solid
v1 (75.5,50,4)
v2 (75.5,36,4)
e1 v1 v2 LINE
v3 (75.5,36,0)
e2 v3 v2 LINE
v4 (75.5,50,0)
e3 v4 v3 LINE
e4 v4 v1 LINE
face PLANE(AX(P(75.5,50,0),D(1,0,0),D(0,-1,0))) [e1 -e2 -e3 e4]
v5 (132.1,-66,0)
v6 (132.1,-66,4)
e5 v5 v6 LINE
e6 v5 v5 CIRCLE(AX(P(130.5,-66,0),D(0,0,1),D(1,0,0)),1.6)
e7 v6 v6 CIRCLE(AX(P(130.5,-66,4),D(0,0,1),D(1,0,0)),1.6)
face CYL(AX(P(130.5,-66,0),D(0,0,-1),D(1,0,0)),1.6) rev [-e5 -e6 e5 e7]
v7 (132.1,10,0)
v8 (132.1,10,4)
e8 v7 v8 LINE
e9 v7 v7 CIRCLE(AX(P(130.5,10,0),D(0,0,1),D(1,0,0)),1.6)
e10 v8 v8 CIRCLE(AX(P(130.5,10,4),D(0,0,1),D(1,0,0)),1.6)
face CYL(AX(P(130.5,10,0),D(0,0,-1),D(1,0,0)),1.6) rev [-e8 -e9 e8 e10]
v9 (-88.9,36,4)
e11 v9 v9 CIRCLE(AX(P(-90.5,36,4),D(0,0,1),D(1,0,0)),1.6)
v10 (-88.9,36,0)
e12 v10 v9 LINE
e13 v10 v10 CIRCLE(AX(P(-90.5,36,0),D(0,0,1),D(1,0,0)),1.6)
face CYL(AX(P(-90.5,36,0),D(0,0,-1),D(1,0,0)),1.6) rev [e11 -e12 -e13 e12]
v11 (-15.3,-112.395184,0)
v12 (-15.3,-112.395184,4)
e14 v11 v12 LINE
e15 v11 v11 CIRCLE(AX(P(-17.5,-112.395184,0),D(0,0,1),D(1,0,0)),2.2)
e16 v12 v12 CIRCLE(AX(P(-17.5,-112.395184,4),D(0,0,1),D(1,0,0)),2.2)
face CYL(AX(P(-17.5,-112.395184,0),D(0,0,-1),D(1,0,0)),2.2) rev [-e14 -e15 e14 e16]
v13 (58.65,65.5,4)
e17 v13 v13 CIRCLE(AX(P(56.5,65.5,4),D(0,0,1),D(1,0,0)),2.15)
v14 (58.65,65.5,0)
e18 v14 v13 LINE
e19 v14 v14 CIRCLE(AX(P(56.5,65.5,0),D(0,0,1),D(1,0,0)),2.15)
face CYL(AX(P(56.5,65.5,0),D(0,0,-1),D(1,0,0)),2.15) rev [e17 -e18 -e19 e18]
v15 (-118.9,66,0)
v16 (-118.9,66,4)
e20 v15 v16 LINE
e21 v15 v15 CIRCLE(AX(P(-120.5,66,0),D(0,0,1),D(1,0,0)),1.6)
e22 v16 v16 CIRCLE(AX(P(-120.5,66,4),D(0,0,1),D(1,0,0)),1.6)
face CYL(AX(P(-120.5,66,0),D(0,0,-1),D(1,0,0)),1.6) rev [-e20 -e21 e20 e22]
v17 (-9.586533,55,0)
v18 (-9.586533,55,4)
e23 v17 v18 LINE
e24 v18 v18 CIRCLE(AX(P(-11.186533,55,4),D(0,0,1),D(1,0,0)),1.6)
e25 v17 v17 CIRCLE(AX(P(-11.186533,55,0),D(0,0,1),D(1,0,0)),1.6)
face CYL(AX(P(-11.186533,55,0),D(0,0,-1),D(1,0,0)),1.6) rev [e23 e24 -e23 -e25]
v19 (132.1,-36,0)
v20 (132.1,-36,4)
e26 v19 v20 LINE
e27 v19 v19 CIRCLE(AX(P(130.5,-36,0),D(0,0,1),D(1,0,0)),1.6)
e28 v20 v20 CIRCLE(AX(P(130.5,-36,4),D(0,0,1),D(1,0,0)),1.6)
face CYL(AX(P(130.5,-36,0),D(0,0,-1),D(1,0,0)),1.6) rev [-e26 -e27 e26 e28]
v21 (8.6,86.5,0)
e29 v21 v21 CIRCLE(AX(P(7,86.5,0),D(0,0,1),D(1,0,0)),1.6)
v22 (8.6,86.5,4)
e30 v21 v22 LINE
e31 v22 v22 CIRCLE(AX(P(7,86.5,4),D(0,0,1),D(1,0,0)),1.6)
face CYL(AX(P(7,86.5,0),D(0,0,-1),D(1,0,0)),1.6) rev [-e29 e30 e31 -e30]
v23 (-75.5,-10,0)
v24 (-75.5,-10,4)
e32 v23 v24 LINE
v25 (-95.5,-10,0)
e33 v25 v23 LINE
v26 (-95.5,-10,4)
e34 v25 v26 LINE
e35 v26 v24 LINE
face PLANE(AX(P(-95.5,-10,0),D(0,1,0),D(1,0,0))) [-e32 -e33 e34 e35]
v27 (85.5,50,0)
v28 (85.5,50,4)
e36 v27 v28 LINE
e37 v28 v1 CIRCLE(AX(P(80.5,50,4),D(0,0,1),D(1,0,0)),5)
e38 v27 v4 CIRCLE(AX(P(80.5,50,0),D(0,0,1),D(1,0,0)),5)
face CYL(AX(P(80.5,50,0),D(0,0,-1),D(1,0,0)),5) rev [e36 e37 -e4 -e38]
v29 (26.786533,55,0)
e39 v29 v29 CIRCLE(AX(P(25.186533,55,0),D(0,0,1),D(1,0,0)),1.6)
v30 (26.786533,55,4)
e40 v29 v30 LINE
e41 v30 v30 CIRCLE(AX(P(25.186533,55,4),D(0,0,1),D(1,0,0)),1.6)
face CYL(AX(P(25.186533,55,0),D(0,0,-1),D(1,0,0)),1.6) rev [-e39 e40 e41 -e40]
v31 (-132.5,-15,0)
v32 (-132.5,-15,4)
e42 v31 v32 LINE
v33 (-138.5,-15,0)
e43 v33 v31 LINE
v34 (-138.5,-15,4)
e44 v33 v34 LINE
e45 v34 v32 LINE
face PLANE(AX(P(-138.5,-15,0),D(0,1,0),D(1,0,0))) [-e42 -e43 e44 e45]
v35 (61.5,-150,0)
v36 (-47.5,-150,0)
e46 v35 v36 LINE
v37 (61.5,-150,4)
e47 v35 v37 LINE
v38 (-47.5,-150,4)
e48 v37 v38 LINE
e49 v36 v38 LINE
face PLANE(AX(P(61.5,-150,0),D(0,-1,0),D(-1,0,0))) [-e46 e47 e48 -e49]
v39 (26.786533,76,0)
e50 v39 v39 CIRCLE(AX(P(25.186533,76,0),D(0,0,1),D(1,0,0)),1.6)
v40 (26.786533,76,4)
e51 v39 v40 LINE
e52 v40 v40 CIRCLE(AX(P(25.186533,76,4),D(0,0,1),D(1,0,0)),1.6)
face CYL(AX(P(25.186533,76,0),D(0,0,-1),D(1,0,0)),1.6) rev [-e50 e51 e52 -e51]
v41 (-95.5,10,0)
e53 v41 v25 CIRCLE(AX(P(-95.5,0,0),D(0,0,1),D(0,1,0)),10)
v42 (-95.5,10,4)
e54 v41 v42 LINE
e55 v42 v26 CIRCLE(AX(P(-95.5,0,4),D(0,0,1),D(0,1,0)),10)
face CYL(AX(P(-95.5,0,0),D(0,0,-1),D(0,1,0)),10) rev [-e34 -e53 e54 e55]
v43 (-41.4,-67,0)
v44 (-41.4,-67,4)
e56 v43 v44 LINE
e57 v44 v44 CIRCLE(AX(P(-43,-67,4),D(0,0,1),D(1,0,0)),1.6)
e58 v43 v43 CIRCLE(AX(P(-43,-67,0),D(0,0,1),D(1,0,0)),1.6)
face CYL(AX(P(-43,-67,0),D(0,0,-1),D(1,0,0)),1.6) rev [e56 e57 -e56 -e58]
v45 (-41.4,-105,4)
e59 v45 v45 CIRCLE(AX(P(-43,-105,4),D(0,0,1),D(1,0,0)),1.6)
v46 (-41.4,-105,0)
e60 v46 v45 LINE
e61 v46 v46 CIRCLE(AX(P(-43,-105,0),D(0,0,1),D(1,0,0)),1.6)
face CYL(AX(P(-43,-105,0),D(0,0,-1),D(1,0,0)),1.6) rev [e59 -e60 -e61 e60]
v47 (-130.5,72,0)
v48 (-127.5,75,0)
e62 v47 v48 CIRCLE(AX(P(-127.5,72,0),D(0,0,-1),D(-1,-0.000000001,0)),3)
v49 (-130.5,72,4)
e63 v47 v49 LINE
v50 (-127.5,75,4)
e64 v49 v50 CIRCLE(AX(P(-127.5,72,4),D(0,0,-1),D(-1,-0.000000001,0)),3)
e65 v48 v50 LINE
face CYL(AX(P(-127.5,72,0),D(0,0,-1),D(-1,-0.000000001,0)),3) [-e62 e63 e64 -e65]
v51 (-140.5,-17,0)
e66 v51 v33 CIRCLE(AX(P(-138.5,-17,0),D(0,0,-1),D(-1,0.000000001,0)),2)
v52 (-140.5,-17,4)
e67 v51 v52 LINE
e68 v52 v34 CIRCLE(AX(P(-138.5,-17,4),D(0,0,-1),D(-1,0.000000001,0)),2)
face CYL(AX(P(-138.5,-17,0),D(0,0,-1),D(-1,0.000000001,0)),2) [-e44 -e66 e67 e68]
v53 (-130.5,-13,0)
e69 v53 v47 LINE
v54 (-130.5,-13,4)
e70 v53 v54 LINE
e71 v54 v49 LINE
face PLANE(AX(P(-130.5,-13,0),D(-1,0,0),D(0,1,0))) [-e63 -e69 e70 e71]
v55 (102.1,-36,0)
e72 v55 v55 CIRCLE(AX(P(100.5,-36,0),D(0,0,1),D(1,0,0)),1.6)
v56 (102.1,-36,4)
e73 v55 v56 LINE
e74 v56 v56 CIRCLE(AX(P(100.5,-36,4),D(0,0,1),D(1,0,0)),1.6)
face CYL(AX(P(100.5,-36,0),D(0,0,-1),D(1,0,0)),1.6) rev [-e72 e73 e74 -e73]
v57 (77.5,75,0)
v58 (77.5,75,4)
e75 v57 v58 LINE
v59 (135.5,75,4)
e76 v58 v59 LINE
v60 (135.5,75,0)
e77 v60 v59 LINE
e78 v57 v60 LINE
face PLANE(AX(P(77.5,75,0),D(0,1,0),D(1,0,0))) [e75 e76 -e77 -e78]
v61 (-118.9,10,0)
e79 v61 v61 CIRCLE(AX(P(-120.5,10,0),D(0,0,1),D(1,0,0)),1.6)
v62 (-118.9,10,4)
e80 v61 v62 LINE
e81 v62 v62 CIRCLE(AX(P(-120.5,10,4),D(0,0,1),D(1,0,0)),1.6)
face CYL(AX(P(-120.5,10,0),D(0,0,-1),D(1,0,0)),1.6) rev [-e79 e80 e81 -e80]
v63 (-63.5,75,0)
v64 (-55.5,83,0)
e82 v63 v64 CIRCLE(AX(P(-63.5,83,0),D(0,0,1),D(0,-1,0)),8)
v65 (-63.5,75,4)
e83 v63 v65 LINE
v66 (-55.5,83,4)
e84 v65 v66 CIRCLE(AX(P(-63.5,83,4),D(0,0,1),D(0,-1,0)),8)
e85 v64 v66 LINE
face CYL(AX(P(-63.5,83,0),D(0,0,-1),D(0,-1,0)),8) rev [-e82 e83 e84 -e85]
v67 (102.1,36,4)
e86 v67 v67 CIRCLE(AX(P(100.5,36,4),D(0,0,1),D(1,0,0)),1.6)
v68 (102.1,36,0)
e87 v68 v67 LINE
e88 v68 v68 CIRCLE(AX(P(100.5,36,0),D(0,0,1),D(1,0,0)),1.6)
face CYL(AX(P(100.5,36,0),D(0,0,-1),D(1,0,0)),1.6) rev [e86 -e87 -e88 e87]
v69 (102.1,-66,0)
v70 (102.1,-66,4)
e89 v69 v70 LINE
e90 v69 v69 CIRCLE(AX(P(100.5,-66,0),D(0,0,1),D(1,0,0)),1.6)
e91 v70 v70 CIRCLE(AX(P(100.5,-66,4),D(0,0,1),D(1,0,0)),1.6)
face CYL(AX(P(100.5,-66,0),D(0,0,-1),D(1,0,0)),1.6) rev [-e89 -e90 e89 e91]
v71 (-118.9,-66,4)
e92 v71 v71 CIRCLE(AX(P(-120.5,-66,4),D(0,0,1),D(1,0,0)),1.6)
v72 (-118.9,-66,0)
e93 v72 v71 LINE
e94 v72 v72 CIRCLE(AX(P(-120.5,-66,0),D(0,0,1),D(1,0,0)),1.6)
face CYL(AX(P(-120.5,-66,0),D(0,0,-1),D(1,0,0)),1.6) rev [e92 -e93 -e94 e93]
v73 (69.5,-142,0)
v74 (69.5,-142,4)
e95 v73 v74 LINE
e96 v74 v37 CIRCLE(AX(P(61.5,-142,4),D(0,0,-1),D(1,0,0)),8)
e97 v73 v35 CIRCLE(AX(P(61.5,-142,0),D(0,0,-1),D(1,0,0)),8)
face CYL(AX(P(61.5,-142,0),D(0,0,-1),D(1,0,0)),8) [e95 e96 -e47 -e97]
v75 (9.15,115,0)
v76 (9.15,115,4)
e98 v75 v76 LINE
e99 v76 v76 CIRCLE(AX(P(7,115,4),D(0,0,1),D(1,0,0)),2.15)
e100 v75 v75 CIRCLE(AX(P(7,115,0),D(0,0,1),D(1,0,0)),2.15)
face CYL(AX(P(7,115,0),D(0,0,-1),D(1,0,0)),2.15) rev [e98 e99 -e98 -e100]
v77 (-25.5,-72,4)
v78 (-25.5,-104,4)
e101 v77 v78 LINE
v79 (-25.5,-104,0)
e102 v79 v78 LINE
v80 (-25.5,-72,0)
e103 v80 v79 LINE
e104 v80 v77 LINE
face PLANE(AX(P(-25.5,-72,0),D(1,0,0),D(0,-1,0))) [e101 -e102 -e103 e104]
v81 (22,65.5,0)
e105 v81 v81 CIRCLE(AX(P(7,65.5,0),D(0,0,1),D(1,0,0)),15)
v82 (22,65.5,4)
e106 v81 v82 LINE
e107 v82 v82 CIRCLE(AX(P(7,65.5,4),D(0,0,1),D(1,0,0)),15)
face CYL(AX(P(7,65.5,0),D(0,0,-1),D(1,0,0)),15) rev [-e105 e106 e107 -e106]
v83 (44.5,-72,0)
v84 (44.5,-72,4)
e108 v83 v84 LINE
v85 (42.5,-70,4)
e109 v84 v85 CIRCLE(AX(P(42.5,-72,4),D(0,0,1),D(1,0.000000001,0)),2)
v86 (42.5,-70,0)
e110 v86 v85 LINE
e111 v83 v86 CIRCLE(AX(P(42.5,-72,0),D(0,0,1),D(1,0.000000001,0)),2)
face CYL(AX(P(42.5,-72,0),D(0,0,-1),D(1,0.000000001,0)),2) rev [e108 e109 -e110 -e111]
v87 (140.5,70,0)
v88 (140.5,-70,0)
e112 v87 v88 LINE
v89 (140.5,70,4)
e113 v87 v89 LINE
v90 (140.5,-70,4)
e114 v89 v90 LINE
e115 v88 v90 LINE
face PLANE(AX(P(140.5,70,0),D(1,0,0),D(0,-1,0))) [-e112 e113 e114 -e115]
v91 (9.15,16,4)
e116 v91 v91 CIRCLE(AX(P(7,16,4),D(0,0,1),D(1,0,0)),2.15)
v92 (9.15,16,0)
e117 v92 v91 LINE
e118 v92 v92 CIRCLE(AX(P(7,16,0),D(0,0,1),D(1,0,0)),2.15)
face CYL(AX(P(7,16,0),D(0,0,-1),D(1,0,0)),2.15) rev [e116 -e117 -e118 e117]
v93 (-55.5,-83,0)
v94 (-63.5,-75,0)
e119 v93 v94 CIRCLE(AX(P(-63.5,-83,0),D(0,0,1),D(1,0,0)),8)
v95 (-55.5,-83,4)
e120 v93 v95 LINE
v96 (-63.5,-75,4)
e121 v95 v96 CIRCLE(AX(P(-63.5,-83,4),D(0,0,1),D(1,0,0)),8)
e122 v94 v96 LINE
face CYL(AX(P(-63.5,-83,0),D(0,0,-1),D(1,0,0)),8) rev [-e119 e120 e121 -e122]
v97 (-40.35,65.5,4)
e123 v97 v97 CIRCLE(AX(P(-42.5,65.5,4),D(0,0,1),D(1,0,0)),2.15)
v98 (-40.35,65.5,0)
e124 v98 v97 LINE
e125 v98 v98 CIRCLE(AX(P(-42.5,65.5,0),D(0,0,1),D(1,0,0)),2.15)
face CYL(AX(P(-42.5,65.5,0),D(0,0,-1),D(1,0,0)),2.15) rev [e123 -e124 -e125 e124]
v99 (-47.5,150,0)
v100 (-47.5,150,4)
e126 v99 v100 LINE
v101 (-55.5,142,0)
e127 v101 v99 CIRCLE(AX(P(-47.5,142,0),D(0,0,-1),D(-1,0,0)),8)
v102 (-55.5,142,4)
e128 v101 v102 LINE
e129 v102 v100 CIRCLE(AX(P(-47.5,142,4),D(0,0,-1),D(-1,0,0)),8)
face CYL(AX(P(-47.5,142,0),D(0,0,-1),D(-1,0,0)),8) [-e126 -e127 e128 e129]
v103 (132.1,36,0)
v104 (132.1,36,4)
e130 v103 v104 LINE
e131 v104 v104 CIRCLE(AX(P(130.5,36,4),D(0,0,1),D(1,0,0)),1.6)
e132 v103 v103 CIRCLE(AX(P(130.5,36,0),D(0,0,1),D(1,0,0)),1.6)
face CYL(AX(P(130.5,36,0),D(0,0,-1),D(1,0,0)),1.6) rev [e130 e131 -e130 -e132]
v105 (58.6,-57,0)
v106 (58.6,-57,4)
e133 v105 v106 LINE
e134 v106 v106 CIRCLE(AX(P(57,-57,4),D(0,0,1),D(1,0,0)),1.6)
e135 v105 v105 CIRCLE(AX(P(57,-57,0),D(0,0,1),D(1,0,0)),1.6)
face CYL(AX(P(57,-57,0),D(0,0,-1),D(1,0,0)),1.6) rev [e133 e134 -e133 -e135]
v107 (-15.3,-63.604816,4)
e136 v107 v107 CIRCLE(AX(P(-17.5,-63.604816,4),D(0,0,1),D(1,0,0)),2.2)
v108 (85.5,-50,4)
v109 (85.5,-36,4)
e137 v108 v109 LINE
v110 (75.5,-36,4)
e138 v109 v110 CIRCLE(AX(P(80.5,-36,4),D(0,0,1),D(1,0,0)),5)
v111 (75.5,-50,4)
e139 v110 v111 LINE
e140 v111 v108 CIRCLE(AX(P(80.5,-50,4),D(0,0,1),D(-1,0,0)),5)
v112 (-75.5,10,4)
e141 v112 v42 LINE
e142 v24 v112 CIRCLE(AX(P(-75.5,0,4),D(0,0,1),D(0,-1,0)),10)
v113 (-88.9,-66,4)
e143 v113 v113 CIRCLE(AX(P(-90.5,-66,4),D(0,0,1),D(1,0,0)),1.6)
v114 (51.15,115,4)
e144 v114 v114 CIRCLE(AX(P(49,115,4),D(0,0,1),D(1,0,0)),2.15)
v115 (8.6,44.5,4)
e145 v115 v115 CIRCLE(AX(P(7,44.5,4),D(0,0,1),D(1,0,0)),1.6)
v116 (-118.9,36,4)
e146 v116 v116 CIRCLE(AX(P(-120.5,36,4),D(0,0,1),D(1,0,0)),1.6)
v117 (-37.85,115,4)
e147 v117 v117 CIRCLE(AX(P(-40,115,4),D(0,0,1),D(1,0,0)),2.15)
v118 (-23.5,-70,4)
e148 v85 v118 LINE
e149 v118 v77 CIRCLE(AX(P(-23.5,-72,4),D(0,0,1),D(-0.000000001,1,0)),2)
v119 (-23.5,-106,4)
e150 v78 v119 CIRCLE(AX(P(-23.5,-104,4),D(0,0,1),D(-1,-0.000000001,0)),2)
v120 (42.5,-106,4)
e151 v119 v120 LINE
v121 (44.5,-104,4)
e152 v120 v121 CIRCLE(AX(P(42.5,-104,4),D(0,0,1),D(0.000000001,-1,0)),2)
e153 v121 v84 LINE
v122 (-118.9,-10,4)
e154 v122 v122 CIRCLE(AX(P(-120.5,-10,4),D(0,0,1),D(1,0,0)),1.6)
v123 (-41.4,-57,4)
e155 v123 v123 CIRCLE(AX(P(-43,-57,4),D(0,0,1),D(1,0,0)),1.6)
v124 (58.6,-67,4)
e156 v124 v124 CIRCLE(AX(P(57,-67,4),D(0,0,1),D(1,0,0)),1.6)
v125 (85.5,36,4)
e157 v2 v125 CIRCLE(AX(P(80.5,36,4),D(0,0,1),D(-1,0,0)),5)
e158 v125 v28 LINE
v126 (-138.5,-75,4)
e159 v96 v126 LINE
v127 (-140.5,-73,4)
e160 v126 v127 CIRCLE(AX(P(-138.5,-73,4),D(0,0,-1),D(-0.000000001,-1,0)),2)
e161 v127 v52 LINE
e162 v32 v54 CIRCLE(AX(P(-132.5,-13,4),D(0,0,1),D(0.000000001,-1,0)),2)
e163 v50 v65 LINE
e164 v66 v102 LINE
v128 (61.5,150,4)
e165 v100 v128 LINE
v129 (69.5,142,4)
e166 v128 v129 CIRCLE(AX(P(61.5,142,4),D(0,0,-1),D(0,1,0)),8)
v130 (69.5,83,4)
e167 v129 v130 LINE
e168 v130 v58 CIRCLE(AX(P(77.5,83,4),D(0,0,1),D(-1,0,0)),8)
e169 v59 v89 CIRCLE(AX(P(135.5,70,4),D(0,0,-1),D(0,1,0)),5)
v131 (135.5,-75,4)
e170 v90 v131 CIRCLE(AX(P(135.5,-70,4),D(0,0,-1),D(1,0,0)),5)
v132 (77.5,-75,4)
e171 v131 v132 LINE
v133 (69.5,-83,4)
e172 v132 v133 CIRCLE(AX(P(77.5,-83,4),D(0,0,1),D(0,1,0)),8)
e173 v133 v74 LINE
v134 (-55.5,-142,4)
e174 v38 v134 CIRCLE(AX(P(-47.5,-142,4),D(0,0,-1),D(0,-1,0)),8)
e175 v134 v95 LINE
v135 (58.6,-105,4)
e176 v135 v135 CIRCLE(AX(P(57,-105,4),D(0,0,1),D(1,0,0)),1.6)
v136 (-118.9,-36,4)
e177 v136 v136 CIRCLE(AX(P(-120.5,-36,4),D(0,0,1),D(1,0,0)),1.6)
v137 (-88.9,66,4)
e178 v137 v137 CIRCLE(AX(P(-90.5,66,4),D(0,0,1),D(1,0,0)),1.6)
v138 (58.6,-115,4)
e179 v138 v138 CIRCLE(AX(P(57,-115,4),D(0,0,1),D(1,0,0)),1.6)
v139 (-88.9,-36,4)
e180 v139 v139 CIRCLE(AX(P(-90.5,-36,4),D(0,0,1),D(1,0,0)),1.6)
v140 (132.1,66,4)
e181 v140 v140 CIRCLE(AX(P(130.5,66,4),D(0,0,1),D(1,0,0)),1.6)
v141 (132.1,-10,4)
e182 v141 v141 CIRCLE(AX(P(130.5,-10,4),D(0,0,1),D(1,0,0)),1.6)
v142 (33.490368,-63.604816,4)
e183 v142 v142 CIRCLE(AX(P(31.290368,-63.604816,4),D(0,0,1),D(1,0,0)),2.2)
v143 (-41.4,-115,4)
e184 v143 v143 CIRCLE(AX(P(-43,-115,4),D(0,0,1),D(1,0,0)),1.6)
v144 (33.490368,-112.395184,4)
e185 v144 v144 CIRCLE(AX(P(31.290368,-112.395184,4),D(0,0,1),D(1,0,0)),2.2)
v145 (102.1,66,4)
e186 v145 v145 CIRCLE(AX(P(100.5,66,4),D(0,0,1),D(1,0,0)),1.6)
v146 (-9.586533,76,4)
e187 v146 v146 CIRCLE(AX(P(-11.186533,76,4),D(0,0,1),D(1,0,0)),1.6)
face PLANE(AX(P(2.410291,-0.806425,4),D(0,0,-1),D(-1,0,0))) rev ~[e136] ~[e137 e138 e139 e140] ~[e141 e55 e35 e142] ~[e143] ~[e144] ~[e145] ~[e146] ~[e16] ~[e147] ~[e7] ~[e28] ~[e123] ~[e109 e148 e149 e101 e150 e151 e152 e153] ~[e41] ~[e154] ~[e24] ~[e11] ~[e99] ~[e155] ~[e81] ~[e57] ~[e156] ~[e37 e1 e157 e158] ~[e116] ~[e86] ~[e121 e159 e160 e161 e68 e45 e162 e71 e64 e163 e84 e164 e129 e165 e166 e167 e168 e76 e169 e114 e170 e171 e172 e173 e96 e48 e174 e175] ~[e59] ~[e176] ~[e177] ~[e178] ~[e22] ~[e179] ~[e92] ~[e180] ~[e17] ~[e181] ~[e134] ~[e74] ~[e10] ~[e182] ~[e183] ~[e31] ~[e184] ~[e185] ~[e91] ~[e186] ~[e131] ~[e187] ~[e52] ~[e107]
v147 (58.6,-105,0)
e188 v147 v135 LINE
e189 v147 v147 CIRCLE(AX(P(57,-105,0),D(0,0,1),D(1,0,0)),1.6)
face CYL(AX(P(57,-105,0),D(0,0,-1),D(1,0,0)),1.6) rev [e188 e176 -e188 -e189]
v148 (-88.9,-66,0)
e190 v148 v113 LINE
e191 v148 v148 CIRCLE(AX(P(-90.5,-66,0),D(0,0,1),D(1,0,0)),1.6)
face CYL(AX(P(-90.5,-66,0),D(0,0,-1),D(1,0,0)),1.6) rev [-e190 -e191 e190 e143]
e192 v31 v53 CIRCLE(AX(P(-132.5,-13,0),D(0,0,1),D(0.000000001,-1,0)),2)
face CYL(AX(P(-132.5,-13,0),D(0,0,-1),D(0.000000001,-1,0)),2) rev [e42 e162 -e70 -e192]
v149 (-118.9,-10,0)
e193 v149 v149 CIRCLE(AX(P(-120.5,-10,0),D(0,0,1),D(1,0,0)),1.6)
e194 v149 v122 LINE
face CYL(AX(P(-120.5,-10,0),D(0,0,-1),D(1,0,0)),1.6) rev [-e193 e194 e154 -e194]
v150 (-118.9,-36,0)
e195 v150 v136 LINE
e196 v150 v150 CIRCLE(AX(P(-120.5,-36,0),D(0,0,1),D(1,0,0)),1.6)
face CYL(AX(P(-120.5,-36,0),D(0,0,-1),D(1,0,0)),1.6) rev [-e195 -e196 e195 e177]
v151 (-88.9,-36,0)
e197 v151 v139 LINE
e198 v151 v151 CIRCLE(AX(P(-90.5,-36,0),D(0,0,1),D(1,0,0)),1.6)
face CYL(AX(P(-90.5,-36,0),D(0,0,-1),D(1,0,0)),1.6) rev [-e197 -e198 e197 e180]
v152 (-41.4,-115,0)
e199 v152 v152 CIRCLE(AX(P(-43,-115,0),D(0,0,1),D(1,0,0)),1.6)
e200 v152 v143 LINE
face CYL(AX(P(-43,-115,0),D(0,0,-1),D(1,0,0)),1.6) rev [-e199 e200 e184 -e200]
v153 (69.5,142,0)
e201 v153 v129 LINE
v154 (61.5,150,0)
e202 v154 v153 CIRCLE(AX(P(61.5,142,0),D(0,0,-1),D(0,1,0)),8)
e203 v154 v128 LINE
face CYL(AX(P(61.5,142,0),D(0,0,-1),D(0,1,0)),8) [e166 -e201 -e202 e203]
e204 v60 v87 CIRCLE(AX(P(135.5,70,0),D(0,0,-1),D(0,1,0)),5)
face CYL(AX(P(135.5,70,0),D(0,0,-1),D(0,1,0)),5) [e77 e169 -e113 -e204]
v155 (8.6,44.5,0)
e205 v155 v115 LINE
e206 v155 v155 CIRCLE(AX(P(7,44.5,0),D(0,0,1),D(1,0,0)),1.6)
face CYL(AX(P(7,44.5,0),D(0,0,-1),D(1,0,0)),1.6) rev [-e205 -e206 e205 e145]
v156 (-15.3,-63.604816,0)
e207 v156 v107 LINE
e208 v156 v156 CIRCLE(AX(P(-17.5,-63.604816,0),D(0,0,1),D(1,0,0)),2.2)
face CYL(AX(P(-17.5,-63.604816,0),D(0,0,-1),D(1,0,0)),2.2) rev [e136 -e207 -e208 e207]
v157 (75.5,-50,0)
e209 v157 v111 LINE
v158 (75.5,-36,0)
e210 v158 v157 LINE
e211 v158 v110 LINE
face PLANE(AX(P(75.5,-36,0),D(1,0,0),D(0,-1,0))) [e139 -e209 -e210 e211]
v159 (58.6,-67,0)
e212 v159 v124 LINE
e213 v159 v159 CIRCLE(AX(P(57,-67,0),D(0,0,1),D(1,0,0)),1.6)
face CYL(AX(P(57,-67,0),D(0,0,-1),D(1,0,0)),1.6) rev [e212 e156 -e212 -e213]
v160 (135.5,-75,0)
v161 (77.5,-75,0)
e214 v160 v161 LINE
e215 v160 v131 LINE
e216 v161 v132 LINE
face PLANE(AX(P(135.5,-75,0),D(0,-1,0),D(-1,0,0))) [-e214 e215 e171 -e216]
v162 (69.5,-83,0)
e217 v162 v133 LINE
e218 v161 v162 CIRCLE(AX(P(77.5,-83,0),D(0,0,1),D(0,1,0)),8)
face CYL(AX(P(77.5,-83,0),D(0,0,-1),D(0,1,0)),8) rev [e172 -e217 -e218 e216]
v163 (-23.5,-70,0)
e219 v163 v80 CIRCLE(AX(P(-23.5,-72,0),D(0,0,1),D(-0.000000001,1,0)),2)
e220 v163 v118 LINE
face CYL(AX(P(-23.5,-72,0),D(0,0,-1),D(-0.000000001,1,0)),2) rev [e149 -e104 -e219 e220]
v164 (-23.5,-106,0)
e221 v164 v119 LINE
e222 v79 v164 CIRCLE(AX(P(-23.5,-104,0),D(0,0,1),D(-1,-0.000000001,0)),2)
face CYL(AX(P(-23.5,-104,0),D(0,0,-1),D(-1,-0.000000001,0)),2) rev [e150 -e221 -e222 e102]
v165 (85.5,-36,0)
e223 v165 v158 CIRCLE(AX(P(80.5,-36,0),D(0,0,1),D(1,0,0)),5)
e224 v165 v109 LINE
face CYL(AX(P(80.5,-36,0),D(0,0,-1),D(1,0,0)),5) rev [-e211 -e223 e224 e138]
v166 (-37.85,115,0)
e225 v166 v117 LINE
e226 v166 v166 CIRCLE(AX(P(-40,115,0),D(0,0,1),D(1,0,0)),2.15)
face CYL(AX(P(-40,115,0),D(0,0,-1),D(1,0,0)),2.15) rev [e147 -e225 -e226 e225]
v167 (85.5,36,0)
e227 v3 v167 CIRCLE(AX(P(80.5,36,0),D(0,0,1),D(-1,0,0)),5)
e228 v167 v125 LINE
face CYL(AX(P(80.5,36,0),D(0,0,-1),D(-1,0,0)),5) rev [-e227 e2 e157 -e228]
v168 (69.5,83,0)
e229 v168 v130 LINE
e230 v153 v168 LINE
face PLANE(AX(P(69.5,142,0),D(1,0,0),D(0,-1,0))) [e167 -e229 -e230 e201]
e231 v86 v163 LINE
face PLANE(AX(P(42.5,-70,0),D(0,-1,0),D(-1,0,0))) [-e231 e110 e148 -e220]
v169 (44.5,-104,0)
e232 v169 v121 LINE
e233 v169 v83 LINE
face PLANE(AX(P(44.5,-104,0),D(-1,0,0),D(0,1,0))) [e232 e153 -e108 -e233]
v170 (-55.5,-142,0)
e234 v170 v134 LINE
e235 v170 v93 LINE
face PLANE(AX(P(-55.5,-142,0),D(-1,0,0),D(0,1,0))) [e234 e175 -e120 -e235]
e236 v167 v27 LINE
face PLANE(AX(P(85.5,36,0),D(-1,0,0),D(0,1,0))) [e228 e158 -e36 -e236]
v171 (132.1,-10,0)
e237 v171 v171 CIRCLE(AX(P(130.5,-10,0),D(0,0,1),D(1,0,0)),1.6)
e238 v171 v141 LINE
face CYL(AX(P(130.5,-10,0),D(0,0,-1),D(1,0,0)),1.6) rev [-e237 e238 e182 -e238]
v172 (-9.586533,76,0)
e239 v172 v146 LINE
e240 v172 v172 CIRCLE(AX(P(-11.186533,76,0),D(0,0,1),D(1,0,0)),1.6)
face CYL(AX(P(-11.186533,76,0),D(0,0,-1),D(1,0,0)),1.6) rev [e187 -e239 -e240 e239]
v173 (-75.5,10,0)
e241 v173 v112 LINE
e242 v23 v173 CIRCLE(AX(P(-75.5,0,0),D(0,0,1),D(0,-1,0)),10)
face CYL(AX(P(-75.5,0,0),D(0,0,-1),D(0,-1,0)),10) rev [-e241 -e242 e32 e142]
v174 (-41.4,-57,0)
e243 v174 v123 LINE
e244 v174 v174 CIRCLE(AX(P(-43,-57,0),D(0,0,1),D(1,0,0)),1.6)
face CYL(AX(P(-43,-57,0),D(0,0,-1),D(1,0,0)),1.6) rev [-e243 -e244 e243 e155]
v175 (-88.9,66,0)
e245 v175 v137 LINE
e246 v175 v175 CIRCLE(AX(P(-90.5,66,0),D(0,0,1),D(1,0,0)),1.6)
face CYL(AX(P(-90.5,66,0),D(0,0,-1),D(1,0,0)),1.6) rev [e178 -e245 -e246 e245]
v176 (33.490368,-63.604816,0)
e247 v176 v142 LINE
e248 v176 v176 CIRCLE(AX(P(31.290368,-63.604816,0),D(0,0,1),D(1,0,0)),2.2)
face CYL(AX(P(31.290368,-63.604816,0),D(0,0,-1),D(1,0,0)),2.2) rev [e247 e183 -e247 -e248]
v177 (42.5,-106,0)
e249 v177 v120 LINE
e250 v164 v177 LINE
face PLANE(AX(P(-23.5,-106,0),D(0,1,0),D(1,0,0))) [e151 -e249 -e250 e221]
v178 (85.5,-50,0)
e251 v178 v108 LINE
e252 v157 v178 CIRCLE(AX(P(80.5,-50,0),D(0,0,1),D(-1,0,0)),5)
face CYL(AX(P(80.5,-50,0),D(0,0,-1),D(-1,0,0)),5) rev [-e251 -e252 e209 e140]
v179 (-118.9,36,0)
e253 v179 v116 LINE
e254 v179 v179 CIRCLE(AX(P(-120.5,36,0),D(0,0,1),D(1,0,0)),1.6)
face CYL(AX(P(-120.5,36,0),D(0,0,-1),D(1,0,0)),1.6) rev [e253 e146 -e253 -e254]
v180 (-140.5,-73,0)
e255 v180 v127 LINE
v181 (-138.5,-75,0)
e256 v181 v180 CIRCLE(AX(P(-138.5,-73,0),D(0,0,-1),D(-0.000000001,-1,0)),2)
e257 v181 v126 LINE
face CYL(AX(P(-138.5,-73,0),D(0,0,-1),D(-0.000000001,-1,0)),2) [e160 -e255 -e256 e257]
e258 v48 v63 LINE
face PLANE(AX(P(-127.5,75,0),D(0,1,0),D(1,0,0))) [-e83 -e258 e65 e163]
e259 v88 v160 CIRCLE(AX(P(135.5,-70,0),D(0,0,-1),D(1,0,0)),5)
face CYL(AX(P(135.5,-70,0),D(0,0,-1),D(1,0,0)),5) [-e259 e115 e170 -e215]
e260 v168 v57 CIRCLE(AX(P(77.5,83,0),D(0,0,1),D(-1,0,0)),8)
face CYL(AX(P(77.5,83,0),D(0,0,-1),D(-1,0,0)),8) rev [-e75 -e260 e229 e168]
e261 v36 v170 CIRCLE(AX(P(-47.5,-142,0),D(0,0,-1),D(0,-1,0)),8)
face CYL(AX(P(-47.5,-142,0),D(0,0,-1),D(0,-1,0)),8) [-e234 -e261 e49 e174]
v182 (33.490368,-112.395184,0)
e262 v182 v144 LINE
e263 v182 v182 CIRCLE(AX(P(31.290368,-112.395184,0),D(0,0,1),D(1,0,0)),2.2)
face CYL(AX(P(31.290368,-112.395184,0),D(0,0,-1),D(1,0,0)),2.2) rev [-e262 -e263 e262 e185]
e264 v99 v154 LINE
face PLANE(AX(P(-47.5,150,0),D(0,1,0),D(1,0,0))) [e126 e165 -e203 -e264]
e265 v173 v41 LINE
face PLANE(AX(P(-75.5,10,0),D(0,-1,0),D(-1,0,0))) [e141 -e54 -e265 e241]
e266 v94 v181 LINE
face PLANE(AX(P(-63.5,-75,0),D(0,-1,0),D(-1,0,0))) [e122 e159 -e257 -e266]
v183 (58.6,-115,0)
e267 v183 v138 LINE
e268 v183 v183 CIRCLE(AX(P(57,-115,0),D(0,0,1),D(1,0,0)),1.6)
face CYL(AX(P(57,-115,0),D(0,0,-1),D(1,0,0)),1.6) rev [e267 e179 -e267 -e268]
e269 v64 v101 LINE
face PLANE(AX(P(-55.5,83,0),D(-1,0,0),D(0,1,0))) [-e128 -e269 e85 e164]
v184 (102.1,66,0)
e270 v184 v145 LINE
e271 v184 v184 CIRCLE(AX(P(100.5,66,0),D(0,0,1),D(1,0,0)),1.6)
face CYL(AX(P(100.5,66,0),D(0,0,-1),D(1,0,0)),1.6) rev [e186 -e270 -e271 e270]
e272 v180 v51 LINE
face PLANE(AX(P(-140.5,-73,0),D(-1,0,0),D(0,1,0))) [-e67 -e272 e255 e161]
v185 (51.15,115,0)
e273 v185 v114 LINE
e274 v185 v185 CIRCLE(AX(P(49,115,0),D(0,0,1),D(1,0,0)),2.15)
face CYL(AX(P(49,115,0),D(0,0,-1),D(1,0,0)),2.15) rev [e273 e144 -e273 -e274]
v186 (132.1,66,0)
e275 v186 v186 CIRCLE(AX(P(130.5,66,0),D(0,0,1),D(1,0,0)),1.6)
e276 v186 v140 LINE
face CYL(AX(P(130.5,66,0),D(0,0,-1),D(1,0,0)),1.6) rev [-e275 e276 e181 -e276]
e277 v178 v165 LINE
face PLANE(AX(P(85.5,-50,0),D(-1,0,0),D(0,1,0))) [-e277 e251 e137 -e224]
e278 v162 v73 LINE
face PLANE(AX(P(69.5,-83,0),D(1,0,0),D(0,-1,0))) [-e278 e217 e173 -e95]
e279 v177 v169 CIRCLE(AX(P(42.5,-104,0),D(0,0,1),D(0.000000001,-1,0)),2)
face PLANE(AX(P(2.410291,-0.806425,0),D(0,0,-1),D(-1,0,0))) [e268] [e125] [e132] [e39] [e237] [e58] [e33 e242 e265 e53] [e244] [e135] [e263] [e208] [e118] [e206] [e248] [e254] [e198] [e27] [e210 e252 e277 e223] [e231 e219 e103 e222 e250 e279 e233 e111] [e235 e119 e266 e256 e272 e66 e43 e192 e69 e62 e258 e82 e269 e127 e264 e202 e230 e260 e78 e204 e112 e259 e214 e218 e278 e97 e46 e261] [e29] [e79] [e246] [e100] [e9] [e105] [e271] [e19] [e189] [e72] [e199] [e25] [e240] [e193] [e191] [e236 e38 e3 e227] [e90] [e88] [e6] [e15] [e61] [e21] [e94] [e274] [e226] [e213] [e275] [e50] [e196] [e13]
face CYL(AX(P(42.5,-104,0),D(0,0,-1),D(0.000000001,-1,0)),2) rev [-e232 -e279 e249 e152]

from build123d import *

# Parameters (mm, degrees)
SKETCH_281X300_10_R   = 1.6
SKETCH_281X300_10_R_2 = 15
SKETCH_281X300_10_R_3 = 2.15
SKETCH_281X300_10_R_4 = 2.2
F_4MM_DEPTH           = 4


with BuildPart() as part:
    # 底板轮廓_281x300_双槽内移10 → 凸台拉伸_4mm (new body)
    with BuildSketch(Plane.XY):
        with BuildLine():
            Line((-55.5, 83), (-55.5, 142))
            ThreePointArc((-55.5, 142), (-53.156854249, 147.656854249), (-47.5, 150))
            Line((-47.5, 150), (61.5, 150))
            ThreePointArc((61.5, 150), (67.156854249, 147.656854249), (69.5, 142))
            Line((69.5, 142), (69.5, 83))
            ThreePointArc((69.5, 83), (71.843145751, 77.343145751), (77.5, 75))
            Line((77.5, 75), (135.5, 75))
            ThreePointArc((135.5, 75), (139.035533906, 73.535533906), (140.5, 70))
            Line((140.5, 70), (140.5, -70))
            ThreePointArc((140.5, -70), (139.035533906, -73.535533906), (135.5, -75))
            Line((135.5, -75), (77.5, -75))
            ThreePointArc((77.5, -75), (71.843145751, -77.343145751), (69.5, -83))
            Line((69.5, -83), (69.5, -142))
            ThreePointArc((69.5, -142), (67.156854249, -147.656854249), (61.5, -150))
            Line((61.5, -150), (-47.5, -150))
            ThreePointArc((-47.5, -150), (-53.156854249, -147.656854249), (-55.5, -142))
            Line((-55.5, -142), (-55.5, -83))
            ThreePointArc((-55.5, -83), (-57.843145751, -77.343145751), (-63.5, -75))
            Line((-63.5, -75), (-138.5, -75))
            ThreePointArc((-138.5, -75), (-139.914213562, -74.414213562), (-140.5, -73))
            Line((-140.5, -73), (-140.5, -17))
            ThreePointArc((-140.5, -17), (-139.914213562, -15.585786438), (-138.5, -15))
            Line((-138.5, -15), (-132.5, -15))
            ThreePointArc((-132.5, -15), (-131.085786438, -14.414213562), (-130.5, -13))
            Line((-130.5, -13), (-130.5, 72))
            ThreePointArc((-130.5, 72), (-129.621320344, 74.121320344), (-127.5, 75))
            Line((-127.5, 75), (-63.5, 75))
            ThreePointArc((-63.5, 75), (-57.843145751, 77.343145751), (-55.5, 83))
        make_face()
        with Locations((100.5, -36)):
            Circle(SKETCH_281X300_10_R, mode=Mode.SUBTRACT)
        with Locations((130.5, -36)):
            Circle(SKETCH_281X300_10_R, mode=Mode.SUBTRACT)
        with Locations((100.5, 36)):
            Circle(SKETCH_281X300_10_R, mode=Mode.SUBTRACT)
        with Locations((7, 65.5)):
            Circle(SKETCH_281X300_10_R_2, mode=Mode.SUBTRACT)
        with Locations((7, 115)):
            Circle(SKETCH_281X300_10_R_3, mode=Mode.SUBTRACT)
        with Locations((-42.5, 65.5)):
            Circle(SKETCH_281X300_10_R_3, mode=Mode.SUBTRACT)
        with Locations((56.5, 65.5)):
            Circle(SKETCH_281X300_10_R_3, mode=Mode.SUBTRACT)
        with Locations((-40, 115)):
            Circle(SKETCH_281X300_10_R_3, mode=Mode.SUBTRACT)
        with Locations((130.5, 36)):
            Circle(SKETCH_281X300_10_R, mode=Mode.SUBTRACT)
        with Locations((49, 115)):
            Circle(SKETCH_281X300_10_R_3, mode=Mode.SUBTRACT)
        with Locations((7, 16)):
            Circle(SKETCH_281X300_10_R_3, mode=Mode.SUBTRACT)
        with Locations((31.290367902, -112.395183951)):
            Circle(SKETCH_281X300_10_R_4, mode=Mode.SUBTRACT)
        with Locations((-17.5, -112.395183951)):
            Circle(SKETCH_281X300_10_R_4, mode=Mode.SUBTRACT)
        with Locations((-17.5, -63.604816049)):
            Circle(SKETCH_281X300_10_R_4, mode=Mode.SUBTRACT)
        with Locations((31.290367902, -63.604816049)):
            Circle(SKETCH_281X300_10_R_4, mode=Mode.SUBTRACT)
        with Locations((7, 86.5)):
            Circle(SKETCH_281X300_10_R, mode=Mode.SUBTRACT)
        with Locations((25.186533479, 76)):
            Circle(SKETCH_281X300_10_R, mode=Mode.SUBTRACT)
        with Locations((100.5, -66)):
            Circle(SKETCH_281X300_10_R, mode=Mode.SUBTRACT)
        with Locations((25.186533479, 55)):
            Circle(SKETCH_281X300_10_R, mode=Mode.SUBTRACT)
        with Locations((100.5, 66)):
            Circle(SKETCH_281X300_10_R, mode=Mode.SUBTRACT)
        with Locations((7, 44.5)):
            Circle(SKETCH_281X300_10_R, mode=Mode.SUBTRACT)
        with Locations((130.5, 66)):
            Circle(SKETCH_281X300_10_R, mode=Mode.SUBTRACT)
        with Locations((130.5, -66)):
            Circle(SKETCH_281X300_10_R, mode=Mode.SUBTRACT)
        with Locations((-43, -105)):
            Circle(SKETCH_281X300_10_R, mode=Mode.SUBTRACT)
        with Locations((57, -57)):
            Circle(SKETCH_281X300_10_R, mode=Mode.SUBTRACT)
        with Locations((-43, -57)):
            Circle(SKETCH_281X300_10_R, mode=Mode.SUBTRACT)
        with Locations((57, -105)):
            Circle(SKETCH_281X300_10_R, mode=Mode.SUBTRACT)
        with Locations((-11.186533479, 55)):
            Circle(SKETCH_281X300_10_R, mode=Mode.SUBTRACT)
        with Locations((-11.186533479, 76)):
            Circle(SKETCH_281X300_10_R, mode=Mode.SUBTRACT)
        with Locations((130.5, 10)):
            Circle(SKETCH_281X300_10_R, mode=Mode.SUBTRACT)
        with Locations((130.5, -10)):
            Circle(SKETCH_281X300_10_R, mode=Mode.SUBTRACT)
        with Locations((-120.5, 10)):
            Circle(SKETCH_281X300_10_R, mode=Mode.SUBTRACT)
        with Locations((-120.5, -10)):
            Circle(SKETCH_281X300_10_R, mode=Mode.SUBTRACT)
        with Locations((-43, -115)):
            Circle(SKETCH_281X300_10_R, mode=Mode.SUBTRACT)
        with Locations((57, -67)):
            Circle(SKETCH_281X300_10_R, mode=Mode.SUBTRACT)
        with Locations((57, -115)):
            Circle(SKETCH_281X300_10_R, mode=Mode.SUBTRACT)
        with Locations((-43, -67)):
            Circle(SKETCH_281X300_10_R, mode=Mode.SUBTRACT)
        with Locations((-120.5, -66)):
            Circle(SKETCH_281X300_10_R, mode=Mode.SUBTRACT)
        with Locations((-90.5, -66)):
            Circle(SKETCH_281X300_10_R, mode=Mode.SUBTRACT)
        with Locations((-120.5, 66)):
            Circle(SKETCH_281X300_10_R, mode=Mode.SUBTRACT)
        with Locations((-90.5, 66)):
            Circle(SKETCH_281X300_10_R, mode=Mode.SUBTRACT)
        with Locations((-90.5, 36)):
            Circle(SKETCH_281X300_10_R, mode=Mode.SUBTRACT)
        with Locations((-120.5, 36)):
            Circle(SKETCH_281X300_10_R, mode=Mode.SUBTRACT)
        with Locations((-90.5, -36)):
            Circle(SKETCH_281X300_10_R, mode=Mode.SUBTRACT)
        with Locations((-120.5, -36)):
            Circle(SKETCH_281X300_10_R, mode=Mode.SUBTRACT)
        with BuildLine():
            Line((-25.5, -72), (-25.5, -104))
            ThreePointArc((-25.5, -104), (-24.914213562, -105.414213562), (-23.5, -106))
            Line((-23.5, -106), (42.5, -106))
            ThreePointArc((42.5, -106), (43.914213562, -105.414213562), (44.5, -104))
            Line((44.5, -104), (44.5, -72))
            ThreePointArc((44.5, -72), (43.914213562, -70.585786438), (42.5, -70))
            Line((42.5, -70), (-23.5, -70))
            ThreePointArc((-23.5, -70), (-24.914213562, -70.585786438), (-25.5, -72))
        make_face(mode=Mode.SUBTRACT)
        with BuildLine():
            Line((75.5, 50), (75.5, 36))
            ThreePointArc((75.5, 36), (80.5, 31), (85.5, 36))
            Line((85.5, 36), (85.5, 50))
            ThreePointArc((85.5, 50), (80.5, 55), (75.5, 50))
        make_face(mode=Mode.SUBTRACT)
        with BuildLine():
            Line((85.5, -50), (85.5, -36))
            ThreePointArc((85.5, -36), (80.5, -31), (75.5, -36))
            Line((75.5, -36), (75.5, -50))
            ThreePointArc((75.5, -50), (80.5, -55), (85.5, -50))
        make_face(mode=Mode.SUBTRACT)
        with BuildLine():
            Line((-95.5, -10), (-75.5, -10))
            ThreePointArc((-75.5, -10), (-65.5, 0), (-75.5, 10))
            Line((-75.5, 10), (-95.5, 10))
            ThreePointArc((-95.5, 10), (-105.5, 0), (-95.5, -10))
        make_face(mode=Mode.SUBTRACT)
    extrude(amount=F_4MM_DEPTH)


solid = part.part
